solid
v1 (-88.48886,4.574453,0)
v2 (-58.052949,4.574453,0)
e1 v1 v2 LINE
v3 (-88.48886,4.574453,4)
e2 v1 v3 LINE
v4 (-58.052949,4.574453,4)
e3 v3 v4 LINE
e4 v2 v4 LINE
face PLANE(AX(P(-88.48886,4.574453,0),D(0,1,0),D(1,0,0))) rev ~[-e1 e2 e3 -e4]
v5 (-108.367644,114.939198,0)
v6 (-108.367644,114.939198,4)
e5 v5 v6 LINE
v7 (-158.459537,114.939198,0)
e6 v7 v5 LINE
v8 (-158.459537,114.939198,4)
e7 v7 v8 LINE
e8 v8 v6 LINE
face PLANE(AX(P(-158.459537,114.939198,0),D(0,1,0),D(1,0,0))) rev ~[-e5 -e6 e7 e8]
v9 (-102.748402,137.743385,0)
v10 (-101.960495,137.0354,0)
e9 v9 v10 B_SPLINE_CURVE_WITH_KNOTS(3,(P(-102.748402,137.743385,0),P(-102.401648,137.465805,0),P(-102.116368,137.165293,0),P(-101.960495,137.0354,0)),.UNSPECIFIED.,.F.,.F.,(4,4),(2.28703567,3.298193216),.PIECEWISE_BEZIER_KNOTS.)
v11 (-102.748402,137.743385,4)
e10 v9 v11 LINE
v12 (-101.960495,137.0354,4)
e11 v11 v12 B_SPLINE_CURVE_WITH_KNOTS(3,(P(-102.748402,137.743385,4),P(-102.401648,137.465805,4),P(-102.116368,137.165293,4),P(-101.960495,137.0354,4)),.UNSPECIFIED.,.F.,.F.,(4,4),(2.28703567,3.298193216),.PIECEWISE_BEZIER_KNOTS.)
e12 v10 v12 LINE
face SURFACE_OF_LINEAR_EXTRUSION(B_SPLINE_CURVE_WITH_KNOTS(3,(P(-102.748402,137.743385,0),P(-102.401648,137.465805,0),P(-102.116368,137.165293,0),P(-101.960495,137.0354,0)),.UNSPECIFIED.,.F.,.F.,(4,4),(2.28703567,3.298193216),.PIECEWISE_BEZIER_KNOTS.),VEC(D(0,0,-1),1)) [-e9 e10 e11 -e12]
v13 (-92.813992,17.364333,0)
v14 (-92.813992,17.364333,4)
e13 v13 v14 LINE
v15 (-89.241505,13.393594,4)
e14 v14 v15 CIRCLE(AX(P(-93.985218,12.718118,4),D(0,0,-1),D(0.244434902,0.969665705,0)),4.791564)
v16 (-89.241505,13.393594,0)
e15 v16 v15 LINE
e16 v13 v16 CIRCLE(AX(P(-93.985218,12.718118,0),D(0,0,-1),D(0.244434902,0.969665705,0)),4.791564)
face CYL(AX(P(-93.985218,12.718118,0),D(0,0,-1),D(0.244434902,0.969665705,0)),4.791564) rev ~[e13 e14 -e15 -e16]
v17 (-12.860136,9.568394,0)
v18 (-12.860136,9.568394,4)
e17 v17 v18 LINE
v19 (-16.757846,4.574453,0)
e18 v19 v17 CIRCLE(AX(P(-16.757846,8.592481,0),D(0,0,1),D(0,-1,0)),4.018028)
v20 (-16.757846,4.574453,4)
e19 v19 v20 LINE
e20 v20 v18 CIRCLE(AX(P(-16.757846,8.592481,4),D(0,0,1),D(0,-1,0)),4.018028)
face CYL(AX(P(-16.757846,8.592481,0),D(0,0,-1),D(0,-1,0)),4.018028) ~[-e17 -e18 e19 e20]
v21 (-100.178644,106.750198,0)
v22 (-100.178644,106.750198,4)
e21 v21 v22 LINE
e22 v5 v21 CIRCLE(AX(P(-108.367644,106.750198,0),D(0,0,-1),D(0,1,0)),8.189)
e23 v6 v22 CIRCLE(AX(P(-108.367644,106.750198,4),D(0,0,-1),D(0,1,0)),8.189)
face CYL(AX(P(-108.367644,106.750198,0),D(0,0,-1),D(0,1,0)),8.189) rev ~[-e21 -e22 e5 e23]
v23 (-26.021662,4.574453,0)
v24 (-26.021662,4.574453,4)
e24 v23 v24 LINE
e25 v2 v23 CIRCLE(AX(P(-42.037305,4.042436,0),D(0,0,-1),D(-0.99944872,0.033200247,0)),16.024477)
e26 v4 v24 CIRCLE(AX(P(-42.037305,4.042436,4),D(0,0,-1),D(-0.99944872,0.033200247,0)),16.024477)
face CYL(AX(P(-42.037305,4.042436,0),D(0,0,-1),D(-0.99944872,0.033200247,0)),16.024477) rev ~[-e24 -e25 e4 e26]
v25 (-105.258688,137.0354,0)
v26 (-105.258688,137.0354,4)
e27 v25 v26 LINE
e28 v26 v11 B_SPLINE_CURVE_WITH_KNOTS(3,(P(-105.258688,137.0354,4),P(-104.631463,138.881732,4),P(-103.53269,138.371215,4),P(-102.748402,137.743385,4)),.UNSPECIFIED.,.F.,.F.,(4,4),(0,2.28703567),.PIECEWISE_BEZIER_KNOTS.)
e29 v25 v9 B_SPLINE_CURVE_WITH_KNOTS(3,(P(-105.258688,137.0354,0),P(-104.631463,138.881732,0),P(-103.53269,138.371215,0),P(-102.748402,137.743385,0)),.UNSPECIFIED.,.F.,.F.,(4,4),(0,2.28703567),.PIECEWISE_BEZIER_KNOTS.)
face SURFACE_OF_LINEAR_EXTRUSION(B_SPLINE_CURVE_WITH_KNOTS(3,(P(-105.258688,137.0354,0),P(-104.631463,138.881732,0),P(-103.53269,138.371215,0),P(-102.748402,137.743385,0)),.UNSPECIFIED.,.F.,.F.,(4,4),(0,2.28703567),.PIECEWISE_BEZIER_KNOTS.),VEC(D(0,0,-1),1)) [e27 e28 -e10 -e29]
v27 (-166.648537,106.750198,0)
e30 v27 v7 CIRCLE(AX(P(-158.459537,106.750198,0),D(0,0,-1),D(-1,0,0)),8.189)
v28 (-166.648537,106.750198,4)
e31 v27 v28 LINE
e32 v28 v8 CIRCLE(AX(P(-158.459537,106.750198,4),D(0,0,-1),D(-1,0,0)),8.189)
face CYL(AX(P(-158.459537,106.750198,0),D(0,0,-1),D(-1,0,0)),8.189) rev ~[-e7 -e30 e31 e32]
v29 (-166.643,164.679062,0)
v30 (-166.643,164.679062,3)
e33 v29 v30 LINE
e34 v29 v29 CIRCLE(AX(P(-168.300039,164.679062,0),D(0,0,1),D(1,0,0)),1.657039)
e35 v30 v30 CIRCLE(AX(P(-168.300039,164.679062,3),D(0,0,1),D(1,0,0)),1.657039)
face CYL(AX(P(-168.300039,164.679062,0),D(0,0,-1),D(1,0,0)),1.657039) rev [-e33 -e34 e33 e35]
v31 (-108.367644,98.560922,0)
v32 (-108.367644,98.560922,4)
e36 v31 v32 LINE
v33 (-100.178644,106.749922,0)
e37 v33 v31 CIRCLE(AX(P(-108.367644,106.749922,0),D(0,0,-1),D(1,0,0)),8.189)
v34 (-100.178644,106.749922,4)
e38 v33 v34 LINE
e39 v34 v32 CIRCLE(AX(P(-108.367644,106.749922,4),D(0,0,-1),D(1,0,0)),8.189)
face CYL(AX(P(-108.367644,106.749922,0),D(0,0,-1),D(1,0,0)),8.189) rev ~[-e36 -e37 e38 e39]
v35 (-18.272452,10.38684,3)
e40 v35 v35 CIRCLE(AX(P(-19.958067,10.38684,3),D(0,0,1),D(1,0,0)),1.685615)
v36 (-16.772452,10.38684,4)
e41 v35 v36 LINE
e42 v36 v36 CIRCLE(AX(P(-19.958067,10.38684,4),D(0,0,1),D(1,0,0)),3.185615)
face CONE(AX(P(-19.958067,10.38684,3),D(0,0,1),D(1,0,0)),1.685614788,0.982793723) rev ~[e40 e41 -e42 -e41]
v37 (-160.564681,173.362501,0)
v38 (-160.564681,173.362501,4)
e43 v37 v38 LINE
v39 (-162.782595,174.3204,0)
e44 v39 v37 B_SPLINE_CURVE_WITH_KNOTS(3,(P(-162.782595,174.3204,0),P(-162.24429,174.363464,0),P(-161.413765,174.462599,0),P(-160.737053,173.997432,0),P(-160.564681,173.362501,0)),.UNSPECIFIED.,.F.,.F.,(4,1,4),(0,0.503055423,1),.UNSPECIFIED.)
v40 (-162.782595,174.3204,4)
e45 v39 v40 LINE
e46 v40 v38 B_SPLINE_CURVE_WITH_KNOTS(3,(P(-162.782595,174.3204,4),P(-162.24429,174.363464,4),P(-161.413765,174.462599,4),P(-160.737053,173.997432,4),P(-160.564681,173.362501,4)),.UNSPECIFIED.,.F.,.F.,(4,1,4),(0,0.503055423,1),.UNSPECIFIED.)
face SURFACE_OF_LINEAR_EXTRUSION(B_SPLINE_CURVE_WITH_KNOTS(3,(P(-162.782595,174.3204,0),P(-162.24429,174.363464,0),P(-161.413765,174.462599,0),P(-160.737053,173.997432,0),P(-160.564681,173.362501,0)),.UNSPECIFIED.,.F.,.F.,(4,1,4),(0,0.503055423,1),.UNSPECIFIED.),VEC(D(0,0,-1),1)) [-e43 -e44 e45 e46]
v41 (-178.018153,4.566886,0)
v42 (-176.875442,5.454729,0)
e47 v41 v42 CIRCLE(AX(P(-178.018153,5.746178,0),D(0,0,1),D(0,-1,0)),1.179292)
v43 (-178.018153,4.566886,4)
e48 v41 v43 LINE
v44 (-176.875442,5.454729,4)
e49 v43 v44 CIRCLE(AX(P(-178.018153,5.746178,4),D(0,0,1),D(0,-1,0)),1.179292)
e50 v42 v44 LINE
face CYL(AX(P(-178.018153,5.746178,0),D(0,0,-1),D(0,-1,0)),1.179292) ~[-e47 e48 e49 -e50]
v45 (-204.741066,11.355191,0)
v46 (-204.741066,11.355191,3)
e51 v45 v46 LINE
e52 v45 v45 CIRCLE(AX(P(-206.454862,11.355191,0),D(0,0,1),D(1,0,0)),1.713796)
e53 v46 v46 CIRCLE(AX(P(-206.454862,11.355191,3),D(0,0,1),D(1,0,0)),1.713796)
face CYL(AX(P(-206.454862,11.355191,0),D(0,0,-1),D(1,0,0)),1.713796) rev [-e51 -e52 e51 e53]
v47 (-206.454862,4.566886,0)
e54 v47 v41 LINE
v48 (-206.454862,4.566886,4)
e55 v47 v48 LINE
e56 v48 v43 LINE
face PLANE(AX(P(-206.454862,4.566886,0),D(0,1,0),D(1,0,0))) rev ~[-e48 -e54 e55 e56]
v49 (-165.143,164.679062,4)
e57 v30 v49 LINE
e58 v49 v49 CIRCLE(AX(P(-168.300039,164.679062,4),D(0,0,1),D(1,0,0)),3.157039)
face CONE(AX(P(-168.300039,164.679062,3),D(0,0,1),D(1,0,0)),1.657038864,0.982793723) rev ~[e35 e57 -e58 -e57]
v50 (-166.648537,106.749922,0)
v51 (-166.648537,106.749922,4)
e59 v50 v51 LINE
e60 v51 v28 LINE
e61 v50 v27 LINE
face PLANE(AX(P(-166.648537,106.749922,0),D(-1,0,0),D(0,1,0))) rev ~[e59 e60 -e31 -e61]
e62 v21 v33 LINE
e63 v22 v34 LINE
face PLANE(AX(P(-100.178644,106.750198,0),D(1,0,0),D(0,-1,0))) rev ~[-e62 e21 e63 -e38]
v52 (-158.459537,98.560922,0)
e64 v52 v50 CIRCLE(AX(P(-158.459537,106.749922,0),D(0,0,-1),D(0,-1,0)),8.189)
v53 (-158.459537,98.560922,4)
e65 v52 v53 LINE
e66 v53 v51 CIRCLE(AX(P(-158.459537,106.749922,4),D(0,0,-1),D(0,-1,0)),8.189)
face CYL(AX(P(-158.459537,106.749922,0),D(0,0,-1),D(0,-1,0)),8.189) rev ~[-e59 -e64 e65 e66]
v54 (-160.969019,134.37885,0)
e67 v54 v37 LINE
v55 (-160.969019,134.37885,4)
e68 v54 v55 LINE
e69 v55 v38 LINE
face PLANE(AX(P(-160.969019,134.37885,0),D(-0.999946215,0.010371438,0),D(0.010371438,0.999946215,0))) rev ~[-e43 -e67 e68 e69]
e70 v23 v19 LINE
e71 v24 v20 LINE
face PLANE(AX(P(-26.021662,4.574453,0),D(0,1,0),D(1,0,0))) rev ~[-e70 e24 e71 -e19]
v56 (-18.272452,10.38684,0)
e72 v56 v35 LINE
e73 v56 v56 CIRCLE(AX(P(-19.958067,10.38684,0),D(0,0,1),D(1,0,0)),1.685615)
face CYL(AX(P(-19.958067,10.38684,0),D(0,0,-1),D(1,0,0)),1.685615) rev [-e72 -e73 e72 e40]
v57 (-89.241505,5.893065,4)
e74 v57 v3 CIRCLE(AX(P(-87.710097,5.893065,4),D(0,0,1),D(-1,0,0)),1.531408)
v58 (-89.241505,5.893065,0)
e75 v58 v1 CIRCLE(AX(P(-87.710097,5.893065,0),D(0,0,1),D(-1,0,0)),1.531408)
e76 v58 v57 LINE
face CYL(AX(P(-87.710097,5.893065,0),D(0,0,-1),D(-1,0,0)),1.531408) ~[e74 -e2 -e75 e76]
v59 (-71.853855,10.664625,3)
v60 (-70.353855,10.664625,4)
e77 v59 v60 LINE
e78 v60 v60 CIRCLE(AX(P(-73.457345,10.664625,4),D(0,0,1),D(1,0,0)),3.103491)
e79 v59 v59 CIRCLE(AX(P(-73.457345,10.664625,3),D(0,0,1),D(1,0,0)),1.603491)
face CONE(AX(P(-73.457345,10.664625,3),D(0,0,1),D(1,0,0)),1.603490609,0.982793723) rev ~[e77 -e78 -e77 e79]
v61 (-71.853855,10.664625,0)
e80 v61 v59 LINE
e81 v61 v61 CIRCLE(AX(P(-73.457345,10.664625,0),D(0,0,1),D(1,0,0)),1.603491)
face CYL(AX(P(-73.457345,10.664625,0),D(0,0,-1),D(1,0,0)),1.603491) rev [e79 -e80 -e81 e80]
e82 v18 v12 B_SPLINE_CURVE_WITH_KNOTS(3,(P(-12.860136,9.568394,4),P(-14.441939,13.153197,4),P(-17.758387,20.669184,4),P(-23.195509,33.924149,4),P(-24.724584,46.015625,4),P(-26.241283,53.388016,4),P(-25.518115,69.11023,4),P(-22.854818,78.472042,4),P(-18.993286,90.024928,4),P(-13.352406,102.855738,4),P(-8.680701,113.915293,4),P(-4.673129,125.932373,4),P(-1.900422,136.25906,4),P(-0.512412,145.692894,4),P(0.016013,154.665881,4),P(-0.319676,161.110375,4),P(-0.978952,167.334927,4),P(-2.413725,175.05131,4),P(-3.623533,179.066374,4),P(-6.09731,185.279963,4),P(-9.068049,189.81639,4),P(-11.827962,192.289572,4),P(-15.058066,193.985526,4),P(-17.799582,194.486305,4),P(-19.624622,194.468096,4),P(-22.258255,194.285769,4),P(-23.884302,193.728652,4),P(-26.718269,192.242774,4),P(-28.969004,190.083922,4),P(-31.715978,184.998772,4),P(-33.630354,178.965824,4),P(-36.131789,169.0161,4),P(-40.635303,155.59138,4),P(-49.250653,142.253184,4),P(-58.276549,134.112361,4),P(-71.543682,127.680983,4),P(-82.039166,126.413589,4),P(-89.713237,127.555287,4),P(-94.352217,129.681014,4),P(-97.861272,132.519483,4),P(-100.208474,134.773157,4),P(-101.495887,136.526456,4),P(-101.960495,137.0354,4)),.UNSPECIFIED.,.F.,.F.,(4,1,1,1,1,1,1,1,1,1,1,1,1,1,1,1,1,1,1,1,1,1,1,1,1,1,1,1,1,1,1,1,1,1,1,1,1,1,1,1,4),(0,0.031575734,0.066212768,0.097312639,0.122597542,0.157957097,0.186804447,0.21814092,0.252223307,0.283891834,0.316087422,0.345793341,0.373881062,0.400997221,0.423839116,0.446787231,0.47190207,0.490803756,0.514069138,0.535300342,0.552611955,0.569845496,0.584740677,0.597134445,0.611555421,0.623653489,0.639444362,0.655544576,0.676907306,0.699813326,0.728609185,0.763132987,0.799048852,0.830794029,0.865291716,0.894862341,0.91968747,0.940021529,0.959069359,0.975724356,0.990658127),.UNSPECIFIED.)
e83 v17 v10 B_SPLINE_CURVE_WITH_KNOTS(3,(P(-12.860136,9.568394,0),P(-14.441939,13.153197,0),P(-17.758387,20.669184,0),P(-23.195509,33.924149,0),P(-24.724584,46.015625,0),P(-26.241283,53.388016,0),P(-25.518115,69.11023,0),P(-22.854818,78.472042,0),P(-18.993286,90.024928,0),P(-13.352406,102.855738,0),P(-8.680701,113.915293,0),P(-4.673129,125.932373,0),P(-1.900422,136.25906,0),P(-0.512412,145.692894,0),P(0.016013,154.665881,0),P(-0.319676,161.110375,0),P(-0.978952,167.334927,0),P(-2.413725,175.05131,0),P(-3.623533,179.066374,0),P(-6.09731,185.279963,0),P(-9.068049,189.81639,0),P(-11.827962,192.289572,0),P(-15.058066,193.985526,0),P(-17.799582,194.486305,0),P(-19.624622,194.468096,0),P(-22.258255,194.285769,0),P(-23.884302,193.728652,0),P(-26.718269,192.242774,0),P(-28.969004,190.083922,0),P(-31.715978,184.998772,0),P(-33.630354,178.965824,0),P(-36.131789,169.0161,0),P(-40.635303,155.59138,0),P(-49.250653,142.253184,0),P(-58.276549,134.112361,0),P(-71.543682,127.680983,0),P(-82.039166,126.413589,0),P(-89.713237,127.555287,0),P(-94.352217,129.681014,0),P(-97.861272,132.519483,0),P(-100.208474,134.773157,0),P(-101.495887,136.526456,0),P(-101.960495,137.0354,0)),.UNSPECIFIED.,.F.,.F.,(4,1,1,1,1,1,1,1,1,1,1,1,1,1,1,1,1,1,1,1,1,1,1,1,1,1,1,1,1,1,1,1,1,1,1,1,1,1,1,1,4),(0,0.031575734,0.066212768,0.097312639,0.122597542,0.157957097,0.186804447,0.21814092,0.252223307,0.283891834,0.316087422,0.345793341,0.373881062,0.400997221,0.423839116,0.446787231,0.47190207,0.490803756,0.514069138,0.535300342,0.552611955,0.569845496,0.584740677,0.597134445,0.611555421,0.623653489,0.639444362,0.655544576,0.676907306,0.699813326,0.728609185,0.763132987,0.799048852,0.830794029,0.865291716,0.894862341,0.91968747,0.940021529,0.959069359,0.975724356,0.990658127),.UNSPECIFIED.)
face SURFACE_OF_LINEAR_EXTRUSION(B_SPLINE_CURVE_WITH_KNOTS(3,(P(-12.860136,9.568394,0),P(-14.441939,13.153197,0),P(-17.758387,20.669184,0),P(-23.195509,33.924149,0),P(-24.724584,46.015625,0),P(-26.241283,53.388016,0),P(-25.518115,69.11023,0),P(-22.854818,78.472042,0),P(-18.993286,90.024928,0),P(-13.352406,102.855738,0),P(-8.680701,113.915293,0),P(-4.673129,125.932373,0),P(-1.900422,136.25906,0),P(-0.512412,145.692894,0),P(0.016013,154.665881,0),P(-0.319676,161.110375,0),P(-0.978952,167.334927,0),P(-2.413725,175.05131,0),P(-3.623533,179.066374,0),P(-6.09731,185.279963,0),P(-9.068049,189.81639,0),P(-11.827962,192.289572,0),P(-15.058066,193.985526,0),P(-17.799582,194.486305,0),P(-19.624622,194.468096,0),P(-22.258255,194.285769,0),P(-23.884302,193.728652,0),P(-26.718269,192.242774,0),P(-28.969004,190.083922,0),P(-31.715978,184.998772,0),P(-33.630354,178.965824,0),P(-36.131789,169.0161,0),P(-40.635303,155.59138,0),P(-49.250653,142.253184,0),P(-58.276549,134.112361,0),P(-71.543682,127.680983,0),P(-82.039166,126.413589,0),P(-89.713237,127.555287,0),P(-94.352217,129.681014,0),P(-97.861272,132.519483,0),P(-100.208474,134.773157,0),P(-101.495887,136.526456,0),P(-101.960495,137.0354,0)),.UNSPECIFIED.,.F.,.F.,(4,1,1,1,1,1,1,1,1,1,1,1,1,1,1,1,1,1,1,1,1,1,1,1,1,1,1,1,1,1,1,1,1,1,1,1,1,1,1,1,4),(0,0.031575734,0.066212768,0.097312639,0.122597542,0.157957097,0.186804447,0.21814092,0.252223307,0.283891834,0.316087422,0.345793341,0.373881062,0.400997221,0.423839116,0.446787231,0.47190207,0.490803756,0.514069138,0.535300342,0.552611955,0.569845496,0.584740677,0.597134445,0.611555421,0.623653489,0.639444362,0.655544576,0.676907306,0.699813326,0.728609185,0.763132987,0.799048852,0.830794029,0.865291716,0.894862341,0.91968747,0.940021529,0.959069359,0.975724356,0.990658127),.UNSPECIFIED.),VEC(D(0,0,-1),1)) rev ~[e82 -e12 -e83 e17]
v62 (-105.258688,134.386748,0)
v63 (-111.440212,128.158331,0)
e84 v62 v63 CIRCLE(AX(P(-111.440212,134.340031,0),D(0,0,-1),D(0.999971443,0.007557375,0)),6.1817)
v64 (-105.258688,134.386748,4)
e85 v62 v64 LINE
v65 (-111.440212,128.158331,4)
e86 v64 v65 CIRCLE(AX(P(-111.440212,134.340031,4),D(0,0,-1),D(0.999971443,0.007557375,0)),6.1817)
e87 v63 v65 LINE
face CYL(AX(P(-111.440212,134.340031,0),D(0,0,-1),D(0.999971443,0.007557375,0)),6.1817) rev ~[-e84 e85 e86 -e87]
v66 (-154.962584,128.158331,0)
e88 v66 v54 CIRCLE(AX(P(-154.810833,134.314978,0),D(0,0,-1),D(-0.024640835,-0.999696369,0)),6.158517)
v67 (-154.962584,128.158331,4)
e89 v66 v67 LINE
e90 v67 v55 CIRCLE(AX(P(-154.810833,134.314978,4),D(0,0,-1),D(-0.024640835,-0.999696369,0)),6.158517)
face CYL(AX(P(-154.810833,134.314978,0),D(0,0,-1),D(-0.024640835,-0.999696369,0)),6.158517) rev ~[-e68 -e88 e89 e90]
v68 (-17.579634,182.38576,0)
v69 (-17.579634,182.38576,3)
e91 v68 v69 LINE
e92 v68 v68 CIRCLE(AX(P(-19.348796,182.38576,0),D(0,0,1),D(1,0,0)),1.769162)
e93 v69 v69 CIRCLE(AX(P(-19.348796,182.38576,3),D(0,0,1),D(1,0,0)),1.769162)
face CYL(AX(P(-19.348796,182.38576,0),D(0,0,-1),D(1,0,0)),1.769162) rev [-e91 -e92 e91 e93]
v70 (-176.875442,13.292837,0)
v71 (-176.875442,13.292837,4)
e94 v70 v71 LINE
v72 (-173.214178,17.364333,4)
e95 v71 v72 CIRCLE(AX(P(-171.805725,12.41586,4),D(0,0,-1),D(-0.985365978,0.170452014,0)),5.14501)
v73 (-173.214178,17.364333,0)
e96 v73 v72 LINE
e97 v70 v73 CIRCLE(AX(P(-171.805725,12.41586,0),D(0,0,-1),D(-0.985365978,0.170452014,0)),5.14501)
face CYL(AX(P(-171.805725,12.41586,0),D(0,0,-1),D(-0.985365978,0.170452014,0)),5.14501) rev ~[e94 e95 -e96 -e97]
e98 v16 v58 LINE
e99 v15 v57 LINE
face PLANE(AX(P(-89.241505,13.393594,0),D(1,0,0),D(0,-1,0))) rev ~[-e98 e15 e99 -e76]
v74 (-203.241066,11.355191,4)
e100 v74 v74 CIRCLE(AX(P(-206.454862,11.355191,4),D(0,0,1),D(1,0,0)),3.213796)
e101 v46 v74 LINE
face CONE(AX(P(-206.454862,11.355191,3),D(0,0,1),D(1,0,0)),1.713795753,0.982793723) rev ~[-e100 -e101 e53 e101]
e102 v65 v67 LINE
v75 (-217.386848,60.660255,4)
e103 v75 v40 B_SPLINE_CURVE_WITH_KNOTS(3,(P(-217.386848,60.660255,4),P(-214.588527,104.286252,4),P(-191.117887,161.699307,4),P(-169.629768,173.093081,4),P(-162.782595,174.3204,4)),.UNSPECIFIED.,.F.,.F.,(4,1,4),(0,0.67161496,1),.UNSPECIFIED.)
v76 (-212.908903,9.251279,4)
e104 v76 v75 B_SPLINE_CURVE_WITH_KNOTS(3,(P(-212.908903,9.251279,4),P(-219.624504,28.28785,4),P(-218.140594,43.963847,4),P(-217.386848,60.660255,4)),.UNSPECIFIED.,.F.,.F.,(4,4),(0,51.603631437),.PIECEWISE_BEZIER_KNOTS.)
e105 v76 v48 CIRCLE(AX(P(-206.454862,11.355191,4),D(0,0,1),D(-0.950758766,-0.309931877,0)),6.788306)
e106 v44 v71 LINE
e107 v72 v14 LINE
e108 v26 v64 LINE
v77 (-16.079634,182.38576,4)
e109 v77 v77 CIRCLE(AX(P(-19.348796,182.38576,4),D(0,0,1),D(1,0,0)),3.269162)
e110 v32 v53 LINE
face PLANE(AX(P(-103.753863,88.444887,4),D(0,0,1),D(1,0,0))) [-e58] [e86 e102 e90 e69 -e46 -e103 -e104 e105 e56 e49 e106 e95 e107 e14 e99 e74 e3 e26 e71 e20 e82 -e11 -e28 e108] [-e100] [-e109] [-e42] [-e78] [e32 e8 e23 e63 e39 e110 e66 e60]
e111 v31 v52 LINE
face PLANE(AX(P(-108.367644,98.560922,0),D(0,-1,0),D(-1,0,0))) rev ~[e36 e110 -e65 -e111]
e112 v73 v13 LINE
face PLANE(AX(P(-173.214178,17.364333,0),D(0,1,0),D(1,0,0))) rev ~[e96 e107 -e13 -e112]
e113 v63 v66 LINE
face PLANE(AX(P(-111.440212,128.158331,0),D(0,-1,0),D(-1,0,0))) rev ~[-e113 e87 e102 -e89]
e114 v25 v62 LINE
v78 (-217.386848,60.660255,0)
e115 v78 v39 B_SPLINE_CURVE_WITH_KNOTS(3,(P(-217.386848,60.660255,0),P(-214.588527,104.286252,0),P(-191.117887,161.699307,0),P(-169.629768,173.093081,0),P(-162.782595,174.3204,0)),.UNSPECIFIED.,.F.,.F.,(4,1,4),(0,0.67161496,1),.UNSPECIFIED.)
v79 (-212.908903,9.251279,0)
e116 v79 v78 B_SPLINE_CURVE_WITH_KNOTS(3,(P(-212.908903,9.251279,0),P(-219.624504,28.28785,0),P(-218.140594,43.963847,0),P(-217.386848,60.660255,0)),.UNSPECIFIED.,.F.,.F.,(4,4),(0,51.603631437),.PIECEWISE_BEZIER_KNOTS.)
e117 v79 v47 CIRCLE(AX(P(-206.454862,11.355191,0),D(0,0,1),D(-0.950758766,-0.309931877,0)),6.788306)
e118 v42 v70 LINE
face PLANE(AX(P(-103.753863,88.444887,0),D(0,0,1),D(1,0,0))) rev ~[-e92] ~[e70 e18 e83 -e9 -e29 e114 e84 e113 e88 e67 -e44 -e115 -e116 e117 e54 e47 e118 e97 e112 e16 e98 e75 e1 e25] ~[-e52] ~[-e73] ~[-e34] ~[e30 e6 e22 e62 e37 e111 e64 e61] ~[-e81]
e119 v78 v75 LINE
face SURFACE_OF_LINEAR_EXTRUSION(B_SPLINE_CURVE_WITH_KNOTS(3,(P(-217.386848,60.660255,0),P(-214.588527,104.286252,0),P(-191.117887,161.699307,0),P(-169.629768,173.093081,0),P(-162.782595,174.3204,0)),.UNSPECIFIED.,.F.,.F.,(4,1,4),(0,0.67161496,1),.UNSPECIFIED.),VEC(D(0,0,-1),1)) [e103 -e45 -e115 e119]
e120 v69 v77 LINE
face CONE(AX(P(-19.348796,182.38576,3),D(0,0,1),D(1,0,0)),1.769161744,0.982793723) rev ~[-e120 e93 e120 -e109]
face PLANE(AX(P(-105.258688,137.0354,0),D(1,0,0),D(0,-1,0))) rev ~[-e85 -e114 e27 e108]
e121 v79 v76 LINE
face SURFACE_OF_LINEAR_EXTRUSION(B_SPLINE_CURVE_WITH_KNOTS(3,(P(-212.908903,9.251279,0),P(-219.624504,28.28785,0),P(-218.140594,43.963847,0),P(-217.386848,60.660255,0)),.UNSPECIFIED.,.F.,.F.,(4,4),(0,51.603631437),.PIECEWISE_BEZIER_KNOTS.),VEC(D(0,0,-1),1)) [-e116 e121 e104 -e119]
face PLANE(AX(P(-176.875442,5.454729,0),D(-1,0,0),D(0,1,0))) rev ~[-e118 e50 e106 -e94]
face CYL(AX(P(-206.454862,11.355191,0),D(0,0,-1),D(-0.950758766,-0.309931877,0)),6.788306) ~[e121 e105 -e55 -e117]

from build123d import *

# Parameters (mm, degrees)
F0_R       = 1.7137957533
F0_R_2     = 1.6034906091
F0_R_3     = 1.685614788
F0_R_4     = 1.6570388641
F0_R_5     = 1.7691617442
F1_DEPTH   = 4
F2_SIZE2   = 1.5
F2_SIZE    = 1
F2_2_SIZE2 = 1.5
F2_2_SIZE  = 1
F2_3_SIZE2 = 1.5
F2_3_SIZE  = 1
F2_4_SIZE2 = 1.5
F2_4_SIZE  = 1
F2_5_SIZE2 = 1.5
F2_5_SIZE  = 1


with BuildPart() as f1:
    # F0 (on Top) → F1 (new body)
    with BuildSketch(Plane.XY):
        with BuildLine():
            Line((-206.4548621972, 4.5668855309), (-178.0181527138, 4.5668855309))
            ThreePointArc((-178.0181527138, 4.5668855309), (-177.2946106698, 4.8149329067), (-176.8754422665, 5.45472853))
            Line((-176.8754422665, 5.45472853), (-176.8754422665, 13.292837158))
            ThreePointArc((-176.8754422665, 13.292837158), (-175.6314199114, 15.8560897894), (-173.2141780447, 17.3643329495))
            Line((-173.2141780447, 17.3643329495), (-133.0140852455, 17.3643329495))
            Line((-133.0140852455, 17.3643329495), (-92.8139924463, 17.3643329495))
            ThreePointArc((-92.8139924463, 17.3643329495), (-90.4231515022, 15.9229215382), (-89.2415046692, 13.3935939521))
            Line((-89.2415046692, 13.3935939521), (-89.2415046692, 5.8930651285))
            ThreePointArc((-89.2415046692, 5.8930651285), (-89.0400994317, 5.1339188794), (-88.4888599025, 4.5744529925))
            Line((-88.4888599025, 4.5744529925), (-58.0529485365, 4.5744529925))
            ThreePointArc((-58.0529485365, 4.5744529925), (-42.0373054221, 20.06691348), (-26.0216623078, 4.5744529925))
            Line((-26.0216623078, 4.5744529925), (-16.7578458786, 4.5744529925))
            ThreePointArc((-16.7578458786, 4.5744529925), (-13.5903709431, 6.1203055895), (-12.8601361066, 9.5683941618))
            add(Edge.make_bspline(
                [(-12.8601361066, 9.5683941618), (-14.4419394883, 13.153197368), (-17.7583873794, 20.6691839759), (-23.1955089468, 33.9241487747), (-24.7245843187, 46.0156253183), (-26.241283277, 53.3880164759), (-25.5181145548, 69.1102297233), (-22.8548176135, 78.4720421574), (-18.9932861428, 90.0249281337), (-13.3524059023, 102.8557382885), (-8.6807006404, 113.9152927053), (-4.6731289799, 125.9323734541), (-1.9004218024, 136.2590604635), (-0.5124121995, 145.6928944313), (0.0160125721, 154.6658811388), (-0.3196757003, 161.110374556), (-0.9789516351, 167.334926556), (-2.4137248416, 175.0513102078), (-3.6235332733, 179.0663742562), (-6.0973095505, 185.2799630355), (-9.0680488733, 189.8163898599), (-11.8279621528, 192.2895722469), (-15.0580662208, 193.985526289), (-17.7995823511, 194.4863049572), (-19.6246218708, 194.4680962646), (-22.2582546575, 194.28576931), (-23.8843015475, 193.728652156), (-26.7182688502, 192.2427740805), (-28.9690041252, 190.0839219996), (-31.7159778253, 184.9987721733), (-33.6303540491, 178.9658244394), (-36.1317893146, 169.0161004986), (-40.6353026181, 155.5913803205), (-49.2506530573, 142.2531836781), (-58.2765490204, 134.112360818), (-71.5436824587, 127.680983456), (-82.0391662971, 126.4135894599), (-89.7132365456, 127.5552865106), (-94.3522170294, 129.6810139803), (-97.8612720312, 132.5194831553), (-100.2084739021, 134.773157247), (-101.4958874209, 136.5264559993), (-101.9604951143, 137.0353996754)],
                knots=[0, 0, 0, 0, 0.0315757342, 0.0662127675, 0.0973126387, 0.122597542, 0.1579570967, 0.1868044469, 0.2181409195, 0.2522233071, 0.2838918337, 0.316087422, 0.345793341, 0.3738810624, 0.4009972207, 0.4238391162, 0.4467872305, 0.4719020696, 0.4908037559, 0.5140691381, 0.5353003415, 0.5526119548, 0.5698454963, 0.5847406769, 0.5971344449, 0.6115554213, 0.6236534888, 0.6394443619, 0.655544576, 0.6769073055, 0.6998133256, 0.728609185, 0.7631329869, 0.7990488516, 0.8307940294, 0.8652917163, 0.894862341, 0.9196874704, 0.9400215292, 0.9590693586, 0.9757243561, 0.990658127, 0.990658127, 0.990658127, 0.990658127], degree=3))
            add(Edge.make_bspline(
                [(-102.7484023558, 137.7433848054), (-102.4016484053, 137.4658046821), (-102.116368464, 137.1652926106), (-101.9604951143, 137.0353996754)],
                knots=[2.2870356705, 2.2870356705, 2.2870356705, 2.2870356705, 3.2981932163, 3.2981932163, 3.2981932163, 3.2981932163], degree=3))
            add(Edge.make_bspline(
                [(-105.2586883307, 137.0353996754), (-104.6314630788, 138.8817321752), (-103.532690281, 138.3712154001), (-102.7484023558, 137.7433848054)],
                knots=[0, 0, 0, 0, 2.2870356705, 2.2870356705, 2.2870356705, 2.2870356705], degree=3))
            Line((-105.2586883307, 137.0353996754), (-105.2586883307, 134.3867480755))
            ThreePointArc((-105.2586883307, 134.3867480755), (-107.0526037177, 129.9854572787), (-111.4402115345, 128.1583309174))
            Line((-111.4402115345, 128.1583309174), (-154.9625843763, 128.1583309174))
            ThreePointArc((-154.9625843763, 128.1583309174), (-159.2411314143, 130.0371525939), (-160.9690189362, 134.3788504601))
            Line((-160.9690189362, 134.3788504601), (-160.5646806861, 173.3625012135))
            add(Edge.make_bspline(
                [(-162.7825945616, 174.3203997612), (-162.2442901134, 174.3634641171), (-161.4137651508, 174.4625987693), (-160.7370525599, 173.9974319935), (-160.5646806861, 173.3625012135)],
                knots=[0, 0, 0, 0, 0.503055423, 1, 1, 1, 1], degree=3))
            add(Edge.make_bspline(
                [(-217.3868478098, 60.6602545923), (-214.5885273326, 104.2862519693), (-191.1178872443, 161.6993073051), (-169.6297675371, 173.0930805206), (-162.7825945616, 174.3203997612)],
                knots=[0, 0, 0, 0, 0.6716149602, 1, 1, 1, 1], degree=3))
            add(Edge.make_bspline(
                [(-212.9089032328, 9.2512788207), (-219.624504447, 28.2878503203), (-218.1405937576, 43.9638467883), (-217.3868478098, 60.6602545923)],
                knots=[0, 0, 0, 0, 51.6036314373, 51.6036314373, 51.6036314373, 51.6036314373], degree=3))
            ThreePointArc((-212.9089032328, 9.2512788207), (-210.4422857445, 5.861417718), (-206.4548621972, 4.5668855309))
        make_face()
        with Locations((-206.4548621972, 11.3551911074)):
            Circle(F0_R, mode=Mode.SUBTRACT)
        with Locations((-73.4573453665, 10.6646250933)):
            Circle(F0_R_2, mode=Mode.SUBTRACT)
        with Locations((-19.9580665376, 10.3868395781)):
            Circle(F0_R_3, mode=Mode.SUBTRACT)
        with BuildLine():
            Line((-108.3676440611, 98.5609218478), (-158.4595369205, 98.5609218478))
            ThreePointArc((-158.4595369205, 98.5609218478), (-164.2500343517, 100.9594244167), (-166.6485369205, 106.7499218478))
            Line((-166.6485369205, 106.7499218478), (-166.6485369205, 106.7501978979))
            ThreePointArc((-166.6485369205, 106.7501978979), (-164.2500343517, 112.540695329), (-158.4595369205, 114.9391978979))
            Line((-158.4595369205, 114.9391978979), (-108.3676440611, 114.9391978979))
            ThreePointArc((-108.3676440611, 114.9391978979), (-102.57714663, 112.540695329), (-100.1786440611, 106.7501978979))
            Line((-100.1786440611, 106.7501978979), (-100.1786440611, 106.7499218478))
            ThreePointArc((-100.1786440611, 106.7499218478), (-102.57714663, 100.9594244167), (-108.3676440611, 98.5609218478))
        make_face(mode=Mode.SUBTRACT)
        with Locations((-168.3000388534, 164.6790622287)):
            Circle(F0_R_4, mode=Mode.SUBTRACT)
        with Locations((-19.3487956989, 182.3857604731)):
            Circle(F0_R_5, mode=Mode.SUBTRACT)
    extrude(amount=F1_DEPTH)

    # F2
    f2_edges = [f1.edges().sort_by_distance(p)[0] for p in [
        (-169.957078, 164.679062, 4),
    ]]
    f2_side = f1.faces().sort_by_distance((-169.957078, 164.679062, 2))[0]
    chamfer(f2_edges, length=F2_SIZE, length2=F2_SIZE2, reference=f2_side)

    # F2#2
    f2_2_edges = [f1.edges().sort_by_distance(p)[0] for p in [
        (-21.117957, 182.38576, 4),
    ]]
    f2_2_side = f1.faces().sort_by_distance((-21.117957, 182.38576, 2))[0]
    chamfer(f2_2_edges, length=F2_2_SIZE, length2=F2_2_SIZE2, reference=f2_2_side)

    # F2#3
    f2_3_edges = [f1.edges().sort_by_distance(p)[0] for p in [
        (-21.643681, 10.38684, 4),
    ]]
    f2_3_side = f1.faces().sort_by_distance((-21.643681, 10.38684, 2))[0]
    chamfer(f2_3_edges, length=F2_3_SIZE, length2=F2_3_SIZE2, reference=f2_3_side)

    # F2#4
    f2_4_edges = [f1.edges().sort_by_distance(p)[0] for p in [
        (-75.060836, 10.664625, 4),
    ]]
    f2_4_side = f1.faces().sort_by_distance((-75.060836, 10.664625, 2))[0]
    chamfer(f2_4_edges, length=F2_4_SIZE, length2=F2_4_SIZE2, reference=f2_4_side)

    # F2#5
    f2_5_edges = [f1.edges().sort_by_distance(p)[0] for p in [
        (-208.168658, 11.355191, 4),
    ]]
    f2_5_side = f1.faces().sort_by_distance((-208.168658, 11.355191, 2))[0]
    chamfer(f2_5_edges, length=F2_5_SIZE, length2=F2_5_SIZE2, reference=f2_5_side)


solid = f1.part
